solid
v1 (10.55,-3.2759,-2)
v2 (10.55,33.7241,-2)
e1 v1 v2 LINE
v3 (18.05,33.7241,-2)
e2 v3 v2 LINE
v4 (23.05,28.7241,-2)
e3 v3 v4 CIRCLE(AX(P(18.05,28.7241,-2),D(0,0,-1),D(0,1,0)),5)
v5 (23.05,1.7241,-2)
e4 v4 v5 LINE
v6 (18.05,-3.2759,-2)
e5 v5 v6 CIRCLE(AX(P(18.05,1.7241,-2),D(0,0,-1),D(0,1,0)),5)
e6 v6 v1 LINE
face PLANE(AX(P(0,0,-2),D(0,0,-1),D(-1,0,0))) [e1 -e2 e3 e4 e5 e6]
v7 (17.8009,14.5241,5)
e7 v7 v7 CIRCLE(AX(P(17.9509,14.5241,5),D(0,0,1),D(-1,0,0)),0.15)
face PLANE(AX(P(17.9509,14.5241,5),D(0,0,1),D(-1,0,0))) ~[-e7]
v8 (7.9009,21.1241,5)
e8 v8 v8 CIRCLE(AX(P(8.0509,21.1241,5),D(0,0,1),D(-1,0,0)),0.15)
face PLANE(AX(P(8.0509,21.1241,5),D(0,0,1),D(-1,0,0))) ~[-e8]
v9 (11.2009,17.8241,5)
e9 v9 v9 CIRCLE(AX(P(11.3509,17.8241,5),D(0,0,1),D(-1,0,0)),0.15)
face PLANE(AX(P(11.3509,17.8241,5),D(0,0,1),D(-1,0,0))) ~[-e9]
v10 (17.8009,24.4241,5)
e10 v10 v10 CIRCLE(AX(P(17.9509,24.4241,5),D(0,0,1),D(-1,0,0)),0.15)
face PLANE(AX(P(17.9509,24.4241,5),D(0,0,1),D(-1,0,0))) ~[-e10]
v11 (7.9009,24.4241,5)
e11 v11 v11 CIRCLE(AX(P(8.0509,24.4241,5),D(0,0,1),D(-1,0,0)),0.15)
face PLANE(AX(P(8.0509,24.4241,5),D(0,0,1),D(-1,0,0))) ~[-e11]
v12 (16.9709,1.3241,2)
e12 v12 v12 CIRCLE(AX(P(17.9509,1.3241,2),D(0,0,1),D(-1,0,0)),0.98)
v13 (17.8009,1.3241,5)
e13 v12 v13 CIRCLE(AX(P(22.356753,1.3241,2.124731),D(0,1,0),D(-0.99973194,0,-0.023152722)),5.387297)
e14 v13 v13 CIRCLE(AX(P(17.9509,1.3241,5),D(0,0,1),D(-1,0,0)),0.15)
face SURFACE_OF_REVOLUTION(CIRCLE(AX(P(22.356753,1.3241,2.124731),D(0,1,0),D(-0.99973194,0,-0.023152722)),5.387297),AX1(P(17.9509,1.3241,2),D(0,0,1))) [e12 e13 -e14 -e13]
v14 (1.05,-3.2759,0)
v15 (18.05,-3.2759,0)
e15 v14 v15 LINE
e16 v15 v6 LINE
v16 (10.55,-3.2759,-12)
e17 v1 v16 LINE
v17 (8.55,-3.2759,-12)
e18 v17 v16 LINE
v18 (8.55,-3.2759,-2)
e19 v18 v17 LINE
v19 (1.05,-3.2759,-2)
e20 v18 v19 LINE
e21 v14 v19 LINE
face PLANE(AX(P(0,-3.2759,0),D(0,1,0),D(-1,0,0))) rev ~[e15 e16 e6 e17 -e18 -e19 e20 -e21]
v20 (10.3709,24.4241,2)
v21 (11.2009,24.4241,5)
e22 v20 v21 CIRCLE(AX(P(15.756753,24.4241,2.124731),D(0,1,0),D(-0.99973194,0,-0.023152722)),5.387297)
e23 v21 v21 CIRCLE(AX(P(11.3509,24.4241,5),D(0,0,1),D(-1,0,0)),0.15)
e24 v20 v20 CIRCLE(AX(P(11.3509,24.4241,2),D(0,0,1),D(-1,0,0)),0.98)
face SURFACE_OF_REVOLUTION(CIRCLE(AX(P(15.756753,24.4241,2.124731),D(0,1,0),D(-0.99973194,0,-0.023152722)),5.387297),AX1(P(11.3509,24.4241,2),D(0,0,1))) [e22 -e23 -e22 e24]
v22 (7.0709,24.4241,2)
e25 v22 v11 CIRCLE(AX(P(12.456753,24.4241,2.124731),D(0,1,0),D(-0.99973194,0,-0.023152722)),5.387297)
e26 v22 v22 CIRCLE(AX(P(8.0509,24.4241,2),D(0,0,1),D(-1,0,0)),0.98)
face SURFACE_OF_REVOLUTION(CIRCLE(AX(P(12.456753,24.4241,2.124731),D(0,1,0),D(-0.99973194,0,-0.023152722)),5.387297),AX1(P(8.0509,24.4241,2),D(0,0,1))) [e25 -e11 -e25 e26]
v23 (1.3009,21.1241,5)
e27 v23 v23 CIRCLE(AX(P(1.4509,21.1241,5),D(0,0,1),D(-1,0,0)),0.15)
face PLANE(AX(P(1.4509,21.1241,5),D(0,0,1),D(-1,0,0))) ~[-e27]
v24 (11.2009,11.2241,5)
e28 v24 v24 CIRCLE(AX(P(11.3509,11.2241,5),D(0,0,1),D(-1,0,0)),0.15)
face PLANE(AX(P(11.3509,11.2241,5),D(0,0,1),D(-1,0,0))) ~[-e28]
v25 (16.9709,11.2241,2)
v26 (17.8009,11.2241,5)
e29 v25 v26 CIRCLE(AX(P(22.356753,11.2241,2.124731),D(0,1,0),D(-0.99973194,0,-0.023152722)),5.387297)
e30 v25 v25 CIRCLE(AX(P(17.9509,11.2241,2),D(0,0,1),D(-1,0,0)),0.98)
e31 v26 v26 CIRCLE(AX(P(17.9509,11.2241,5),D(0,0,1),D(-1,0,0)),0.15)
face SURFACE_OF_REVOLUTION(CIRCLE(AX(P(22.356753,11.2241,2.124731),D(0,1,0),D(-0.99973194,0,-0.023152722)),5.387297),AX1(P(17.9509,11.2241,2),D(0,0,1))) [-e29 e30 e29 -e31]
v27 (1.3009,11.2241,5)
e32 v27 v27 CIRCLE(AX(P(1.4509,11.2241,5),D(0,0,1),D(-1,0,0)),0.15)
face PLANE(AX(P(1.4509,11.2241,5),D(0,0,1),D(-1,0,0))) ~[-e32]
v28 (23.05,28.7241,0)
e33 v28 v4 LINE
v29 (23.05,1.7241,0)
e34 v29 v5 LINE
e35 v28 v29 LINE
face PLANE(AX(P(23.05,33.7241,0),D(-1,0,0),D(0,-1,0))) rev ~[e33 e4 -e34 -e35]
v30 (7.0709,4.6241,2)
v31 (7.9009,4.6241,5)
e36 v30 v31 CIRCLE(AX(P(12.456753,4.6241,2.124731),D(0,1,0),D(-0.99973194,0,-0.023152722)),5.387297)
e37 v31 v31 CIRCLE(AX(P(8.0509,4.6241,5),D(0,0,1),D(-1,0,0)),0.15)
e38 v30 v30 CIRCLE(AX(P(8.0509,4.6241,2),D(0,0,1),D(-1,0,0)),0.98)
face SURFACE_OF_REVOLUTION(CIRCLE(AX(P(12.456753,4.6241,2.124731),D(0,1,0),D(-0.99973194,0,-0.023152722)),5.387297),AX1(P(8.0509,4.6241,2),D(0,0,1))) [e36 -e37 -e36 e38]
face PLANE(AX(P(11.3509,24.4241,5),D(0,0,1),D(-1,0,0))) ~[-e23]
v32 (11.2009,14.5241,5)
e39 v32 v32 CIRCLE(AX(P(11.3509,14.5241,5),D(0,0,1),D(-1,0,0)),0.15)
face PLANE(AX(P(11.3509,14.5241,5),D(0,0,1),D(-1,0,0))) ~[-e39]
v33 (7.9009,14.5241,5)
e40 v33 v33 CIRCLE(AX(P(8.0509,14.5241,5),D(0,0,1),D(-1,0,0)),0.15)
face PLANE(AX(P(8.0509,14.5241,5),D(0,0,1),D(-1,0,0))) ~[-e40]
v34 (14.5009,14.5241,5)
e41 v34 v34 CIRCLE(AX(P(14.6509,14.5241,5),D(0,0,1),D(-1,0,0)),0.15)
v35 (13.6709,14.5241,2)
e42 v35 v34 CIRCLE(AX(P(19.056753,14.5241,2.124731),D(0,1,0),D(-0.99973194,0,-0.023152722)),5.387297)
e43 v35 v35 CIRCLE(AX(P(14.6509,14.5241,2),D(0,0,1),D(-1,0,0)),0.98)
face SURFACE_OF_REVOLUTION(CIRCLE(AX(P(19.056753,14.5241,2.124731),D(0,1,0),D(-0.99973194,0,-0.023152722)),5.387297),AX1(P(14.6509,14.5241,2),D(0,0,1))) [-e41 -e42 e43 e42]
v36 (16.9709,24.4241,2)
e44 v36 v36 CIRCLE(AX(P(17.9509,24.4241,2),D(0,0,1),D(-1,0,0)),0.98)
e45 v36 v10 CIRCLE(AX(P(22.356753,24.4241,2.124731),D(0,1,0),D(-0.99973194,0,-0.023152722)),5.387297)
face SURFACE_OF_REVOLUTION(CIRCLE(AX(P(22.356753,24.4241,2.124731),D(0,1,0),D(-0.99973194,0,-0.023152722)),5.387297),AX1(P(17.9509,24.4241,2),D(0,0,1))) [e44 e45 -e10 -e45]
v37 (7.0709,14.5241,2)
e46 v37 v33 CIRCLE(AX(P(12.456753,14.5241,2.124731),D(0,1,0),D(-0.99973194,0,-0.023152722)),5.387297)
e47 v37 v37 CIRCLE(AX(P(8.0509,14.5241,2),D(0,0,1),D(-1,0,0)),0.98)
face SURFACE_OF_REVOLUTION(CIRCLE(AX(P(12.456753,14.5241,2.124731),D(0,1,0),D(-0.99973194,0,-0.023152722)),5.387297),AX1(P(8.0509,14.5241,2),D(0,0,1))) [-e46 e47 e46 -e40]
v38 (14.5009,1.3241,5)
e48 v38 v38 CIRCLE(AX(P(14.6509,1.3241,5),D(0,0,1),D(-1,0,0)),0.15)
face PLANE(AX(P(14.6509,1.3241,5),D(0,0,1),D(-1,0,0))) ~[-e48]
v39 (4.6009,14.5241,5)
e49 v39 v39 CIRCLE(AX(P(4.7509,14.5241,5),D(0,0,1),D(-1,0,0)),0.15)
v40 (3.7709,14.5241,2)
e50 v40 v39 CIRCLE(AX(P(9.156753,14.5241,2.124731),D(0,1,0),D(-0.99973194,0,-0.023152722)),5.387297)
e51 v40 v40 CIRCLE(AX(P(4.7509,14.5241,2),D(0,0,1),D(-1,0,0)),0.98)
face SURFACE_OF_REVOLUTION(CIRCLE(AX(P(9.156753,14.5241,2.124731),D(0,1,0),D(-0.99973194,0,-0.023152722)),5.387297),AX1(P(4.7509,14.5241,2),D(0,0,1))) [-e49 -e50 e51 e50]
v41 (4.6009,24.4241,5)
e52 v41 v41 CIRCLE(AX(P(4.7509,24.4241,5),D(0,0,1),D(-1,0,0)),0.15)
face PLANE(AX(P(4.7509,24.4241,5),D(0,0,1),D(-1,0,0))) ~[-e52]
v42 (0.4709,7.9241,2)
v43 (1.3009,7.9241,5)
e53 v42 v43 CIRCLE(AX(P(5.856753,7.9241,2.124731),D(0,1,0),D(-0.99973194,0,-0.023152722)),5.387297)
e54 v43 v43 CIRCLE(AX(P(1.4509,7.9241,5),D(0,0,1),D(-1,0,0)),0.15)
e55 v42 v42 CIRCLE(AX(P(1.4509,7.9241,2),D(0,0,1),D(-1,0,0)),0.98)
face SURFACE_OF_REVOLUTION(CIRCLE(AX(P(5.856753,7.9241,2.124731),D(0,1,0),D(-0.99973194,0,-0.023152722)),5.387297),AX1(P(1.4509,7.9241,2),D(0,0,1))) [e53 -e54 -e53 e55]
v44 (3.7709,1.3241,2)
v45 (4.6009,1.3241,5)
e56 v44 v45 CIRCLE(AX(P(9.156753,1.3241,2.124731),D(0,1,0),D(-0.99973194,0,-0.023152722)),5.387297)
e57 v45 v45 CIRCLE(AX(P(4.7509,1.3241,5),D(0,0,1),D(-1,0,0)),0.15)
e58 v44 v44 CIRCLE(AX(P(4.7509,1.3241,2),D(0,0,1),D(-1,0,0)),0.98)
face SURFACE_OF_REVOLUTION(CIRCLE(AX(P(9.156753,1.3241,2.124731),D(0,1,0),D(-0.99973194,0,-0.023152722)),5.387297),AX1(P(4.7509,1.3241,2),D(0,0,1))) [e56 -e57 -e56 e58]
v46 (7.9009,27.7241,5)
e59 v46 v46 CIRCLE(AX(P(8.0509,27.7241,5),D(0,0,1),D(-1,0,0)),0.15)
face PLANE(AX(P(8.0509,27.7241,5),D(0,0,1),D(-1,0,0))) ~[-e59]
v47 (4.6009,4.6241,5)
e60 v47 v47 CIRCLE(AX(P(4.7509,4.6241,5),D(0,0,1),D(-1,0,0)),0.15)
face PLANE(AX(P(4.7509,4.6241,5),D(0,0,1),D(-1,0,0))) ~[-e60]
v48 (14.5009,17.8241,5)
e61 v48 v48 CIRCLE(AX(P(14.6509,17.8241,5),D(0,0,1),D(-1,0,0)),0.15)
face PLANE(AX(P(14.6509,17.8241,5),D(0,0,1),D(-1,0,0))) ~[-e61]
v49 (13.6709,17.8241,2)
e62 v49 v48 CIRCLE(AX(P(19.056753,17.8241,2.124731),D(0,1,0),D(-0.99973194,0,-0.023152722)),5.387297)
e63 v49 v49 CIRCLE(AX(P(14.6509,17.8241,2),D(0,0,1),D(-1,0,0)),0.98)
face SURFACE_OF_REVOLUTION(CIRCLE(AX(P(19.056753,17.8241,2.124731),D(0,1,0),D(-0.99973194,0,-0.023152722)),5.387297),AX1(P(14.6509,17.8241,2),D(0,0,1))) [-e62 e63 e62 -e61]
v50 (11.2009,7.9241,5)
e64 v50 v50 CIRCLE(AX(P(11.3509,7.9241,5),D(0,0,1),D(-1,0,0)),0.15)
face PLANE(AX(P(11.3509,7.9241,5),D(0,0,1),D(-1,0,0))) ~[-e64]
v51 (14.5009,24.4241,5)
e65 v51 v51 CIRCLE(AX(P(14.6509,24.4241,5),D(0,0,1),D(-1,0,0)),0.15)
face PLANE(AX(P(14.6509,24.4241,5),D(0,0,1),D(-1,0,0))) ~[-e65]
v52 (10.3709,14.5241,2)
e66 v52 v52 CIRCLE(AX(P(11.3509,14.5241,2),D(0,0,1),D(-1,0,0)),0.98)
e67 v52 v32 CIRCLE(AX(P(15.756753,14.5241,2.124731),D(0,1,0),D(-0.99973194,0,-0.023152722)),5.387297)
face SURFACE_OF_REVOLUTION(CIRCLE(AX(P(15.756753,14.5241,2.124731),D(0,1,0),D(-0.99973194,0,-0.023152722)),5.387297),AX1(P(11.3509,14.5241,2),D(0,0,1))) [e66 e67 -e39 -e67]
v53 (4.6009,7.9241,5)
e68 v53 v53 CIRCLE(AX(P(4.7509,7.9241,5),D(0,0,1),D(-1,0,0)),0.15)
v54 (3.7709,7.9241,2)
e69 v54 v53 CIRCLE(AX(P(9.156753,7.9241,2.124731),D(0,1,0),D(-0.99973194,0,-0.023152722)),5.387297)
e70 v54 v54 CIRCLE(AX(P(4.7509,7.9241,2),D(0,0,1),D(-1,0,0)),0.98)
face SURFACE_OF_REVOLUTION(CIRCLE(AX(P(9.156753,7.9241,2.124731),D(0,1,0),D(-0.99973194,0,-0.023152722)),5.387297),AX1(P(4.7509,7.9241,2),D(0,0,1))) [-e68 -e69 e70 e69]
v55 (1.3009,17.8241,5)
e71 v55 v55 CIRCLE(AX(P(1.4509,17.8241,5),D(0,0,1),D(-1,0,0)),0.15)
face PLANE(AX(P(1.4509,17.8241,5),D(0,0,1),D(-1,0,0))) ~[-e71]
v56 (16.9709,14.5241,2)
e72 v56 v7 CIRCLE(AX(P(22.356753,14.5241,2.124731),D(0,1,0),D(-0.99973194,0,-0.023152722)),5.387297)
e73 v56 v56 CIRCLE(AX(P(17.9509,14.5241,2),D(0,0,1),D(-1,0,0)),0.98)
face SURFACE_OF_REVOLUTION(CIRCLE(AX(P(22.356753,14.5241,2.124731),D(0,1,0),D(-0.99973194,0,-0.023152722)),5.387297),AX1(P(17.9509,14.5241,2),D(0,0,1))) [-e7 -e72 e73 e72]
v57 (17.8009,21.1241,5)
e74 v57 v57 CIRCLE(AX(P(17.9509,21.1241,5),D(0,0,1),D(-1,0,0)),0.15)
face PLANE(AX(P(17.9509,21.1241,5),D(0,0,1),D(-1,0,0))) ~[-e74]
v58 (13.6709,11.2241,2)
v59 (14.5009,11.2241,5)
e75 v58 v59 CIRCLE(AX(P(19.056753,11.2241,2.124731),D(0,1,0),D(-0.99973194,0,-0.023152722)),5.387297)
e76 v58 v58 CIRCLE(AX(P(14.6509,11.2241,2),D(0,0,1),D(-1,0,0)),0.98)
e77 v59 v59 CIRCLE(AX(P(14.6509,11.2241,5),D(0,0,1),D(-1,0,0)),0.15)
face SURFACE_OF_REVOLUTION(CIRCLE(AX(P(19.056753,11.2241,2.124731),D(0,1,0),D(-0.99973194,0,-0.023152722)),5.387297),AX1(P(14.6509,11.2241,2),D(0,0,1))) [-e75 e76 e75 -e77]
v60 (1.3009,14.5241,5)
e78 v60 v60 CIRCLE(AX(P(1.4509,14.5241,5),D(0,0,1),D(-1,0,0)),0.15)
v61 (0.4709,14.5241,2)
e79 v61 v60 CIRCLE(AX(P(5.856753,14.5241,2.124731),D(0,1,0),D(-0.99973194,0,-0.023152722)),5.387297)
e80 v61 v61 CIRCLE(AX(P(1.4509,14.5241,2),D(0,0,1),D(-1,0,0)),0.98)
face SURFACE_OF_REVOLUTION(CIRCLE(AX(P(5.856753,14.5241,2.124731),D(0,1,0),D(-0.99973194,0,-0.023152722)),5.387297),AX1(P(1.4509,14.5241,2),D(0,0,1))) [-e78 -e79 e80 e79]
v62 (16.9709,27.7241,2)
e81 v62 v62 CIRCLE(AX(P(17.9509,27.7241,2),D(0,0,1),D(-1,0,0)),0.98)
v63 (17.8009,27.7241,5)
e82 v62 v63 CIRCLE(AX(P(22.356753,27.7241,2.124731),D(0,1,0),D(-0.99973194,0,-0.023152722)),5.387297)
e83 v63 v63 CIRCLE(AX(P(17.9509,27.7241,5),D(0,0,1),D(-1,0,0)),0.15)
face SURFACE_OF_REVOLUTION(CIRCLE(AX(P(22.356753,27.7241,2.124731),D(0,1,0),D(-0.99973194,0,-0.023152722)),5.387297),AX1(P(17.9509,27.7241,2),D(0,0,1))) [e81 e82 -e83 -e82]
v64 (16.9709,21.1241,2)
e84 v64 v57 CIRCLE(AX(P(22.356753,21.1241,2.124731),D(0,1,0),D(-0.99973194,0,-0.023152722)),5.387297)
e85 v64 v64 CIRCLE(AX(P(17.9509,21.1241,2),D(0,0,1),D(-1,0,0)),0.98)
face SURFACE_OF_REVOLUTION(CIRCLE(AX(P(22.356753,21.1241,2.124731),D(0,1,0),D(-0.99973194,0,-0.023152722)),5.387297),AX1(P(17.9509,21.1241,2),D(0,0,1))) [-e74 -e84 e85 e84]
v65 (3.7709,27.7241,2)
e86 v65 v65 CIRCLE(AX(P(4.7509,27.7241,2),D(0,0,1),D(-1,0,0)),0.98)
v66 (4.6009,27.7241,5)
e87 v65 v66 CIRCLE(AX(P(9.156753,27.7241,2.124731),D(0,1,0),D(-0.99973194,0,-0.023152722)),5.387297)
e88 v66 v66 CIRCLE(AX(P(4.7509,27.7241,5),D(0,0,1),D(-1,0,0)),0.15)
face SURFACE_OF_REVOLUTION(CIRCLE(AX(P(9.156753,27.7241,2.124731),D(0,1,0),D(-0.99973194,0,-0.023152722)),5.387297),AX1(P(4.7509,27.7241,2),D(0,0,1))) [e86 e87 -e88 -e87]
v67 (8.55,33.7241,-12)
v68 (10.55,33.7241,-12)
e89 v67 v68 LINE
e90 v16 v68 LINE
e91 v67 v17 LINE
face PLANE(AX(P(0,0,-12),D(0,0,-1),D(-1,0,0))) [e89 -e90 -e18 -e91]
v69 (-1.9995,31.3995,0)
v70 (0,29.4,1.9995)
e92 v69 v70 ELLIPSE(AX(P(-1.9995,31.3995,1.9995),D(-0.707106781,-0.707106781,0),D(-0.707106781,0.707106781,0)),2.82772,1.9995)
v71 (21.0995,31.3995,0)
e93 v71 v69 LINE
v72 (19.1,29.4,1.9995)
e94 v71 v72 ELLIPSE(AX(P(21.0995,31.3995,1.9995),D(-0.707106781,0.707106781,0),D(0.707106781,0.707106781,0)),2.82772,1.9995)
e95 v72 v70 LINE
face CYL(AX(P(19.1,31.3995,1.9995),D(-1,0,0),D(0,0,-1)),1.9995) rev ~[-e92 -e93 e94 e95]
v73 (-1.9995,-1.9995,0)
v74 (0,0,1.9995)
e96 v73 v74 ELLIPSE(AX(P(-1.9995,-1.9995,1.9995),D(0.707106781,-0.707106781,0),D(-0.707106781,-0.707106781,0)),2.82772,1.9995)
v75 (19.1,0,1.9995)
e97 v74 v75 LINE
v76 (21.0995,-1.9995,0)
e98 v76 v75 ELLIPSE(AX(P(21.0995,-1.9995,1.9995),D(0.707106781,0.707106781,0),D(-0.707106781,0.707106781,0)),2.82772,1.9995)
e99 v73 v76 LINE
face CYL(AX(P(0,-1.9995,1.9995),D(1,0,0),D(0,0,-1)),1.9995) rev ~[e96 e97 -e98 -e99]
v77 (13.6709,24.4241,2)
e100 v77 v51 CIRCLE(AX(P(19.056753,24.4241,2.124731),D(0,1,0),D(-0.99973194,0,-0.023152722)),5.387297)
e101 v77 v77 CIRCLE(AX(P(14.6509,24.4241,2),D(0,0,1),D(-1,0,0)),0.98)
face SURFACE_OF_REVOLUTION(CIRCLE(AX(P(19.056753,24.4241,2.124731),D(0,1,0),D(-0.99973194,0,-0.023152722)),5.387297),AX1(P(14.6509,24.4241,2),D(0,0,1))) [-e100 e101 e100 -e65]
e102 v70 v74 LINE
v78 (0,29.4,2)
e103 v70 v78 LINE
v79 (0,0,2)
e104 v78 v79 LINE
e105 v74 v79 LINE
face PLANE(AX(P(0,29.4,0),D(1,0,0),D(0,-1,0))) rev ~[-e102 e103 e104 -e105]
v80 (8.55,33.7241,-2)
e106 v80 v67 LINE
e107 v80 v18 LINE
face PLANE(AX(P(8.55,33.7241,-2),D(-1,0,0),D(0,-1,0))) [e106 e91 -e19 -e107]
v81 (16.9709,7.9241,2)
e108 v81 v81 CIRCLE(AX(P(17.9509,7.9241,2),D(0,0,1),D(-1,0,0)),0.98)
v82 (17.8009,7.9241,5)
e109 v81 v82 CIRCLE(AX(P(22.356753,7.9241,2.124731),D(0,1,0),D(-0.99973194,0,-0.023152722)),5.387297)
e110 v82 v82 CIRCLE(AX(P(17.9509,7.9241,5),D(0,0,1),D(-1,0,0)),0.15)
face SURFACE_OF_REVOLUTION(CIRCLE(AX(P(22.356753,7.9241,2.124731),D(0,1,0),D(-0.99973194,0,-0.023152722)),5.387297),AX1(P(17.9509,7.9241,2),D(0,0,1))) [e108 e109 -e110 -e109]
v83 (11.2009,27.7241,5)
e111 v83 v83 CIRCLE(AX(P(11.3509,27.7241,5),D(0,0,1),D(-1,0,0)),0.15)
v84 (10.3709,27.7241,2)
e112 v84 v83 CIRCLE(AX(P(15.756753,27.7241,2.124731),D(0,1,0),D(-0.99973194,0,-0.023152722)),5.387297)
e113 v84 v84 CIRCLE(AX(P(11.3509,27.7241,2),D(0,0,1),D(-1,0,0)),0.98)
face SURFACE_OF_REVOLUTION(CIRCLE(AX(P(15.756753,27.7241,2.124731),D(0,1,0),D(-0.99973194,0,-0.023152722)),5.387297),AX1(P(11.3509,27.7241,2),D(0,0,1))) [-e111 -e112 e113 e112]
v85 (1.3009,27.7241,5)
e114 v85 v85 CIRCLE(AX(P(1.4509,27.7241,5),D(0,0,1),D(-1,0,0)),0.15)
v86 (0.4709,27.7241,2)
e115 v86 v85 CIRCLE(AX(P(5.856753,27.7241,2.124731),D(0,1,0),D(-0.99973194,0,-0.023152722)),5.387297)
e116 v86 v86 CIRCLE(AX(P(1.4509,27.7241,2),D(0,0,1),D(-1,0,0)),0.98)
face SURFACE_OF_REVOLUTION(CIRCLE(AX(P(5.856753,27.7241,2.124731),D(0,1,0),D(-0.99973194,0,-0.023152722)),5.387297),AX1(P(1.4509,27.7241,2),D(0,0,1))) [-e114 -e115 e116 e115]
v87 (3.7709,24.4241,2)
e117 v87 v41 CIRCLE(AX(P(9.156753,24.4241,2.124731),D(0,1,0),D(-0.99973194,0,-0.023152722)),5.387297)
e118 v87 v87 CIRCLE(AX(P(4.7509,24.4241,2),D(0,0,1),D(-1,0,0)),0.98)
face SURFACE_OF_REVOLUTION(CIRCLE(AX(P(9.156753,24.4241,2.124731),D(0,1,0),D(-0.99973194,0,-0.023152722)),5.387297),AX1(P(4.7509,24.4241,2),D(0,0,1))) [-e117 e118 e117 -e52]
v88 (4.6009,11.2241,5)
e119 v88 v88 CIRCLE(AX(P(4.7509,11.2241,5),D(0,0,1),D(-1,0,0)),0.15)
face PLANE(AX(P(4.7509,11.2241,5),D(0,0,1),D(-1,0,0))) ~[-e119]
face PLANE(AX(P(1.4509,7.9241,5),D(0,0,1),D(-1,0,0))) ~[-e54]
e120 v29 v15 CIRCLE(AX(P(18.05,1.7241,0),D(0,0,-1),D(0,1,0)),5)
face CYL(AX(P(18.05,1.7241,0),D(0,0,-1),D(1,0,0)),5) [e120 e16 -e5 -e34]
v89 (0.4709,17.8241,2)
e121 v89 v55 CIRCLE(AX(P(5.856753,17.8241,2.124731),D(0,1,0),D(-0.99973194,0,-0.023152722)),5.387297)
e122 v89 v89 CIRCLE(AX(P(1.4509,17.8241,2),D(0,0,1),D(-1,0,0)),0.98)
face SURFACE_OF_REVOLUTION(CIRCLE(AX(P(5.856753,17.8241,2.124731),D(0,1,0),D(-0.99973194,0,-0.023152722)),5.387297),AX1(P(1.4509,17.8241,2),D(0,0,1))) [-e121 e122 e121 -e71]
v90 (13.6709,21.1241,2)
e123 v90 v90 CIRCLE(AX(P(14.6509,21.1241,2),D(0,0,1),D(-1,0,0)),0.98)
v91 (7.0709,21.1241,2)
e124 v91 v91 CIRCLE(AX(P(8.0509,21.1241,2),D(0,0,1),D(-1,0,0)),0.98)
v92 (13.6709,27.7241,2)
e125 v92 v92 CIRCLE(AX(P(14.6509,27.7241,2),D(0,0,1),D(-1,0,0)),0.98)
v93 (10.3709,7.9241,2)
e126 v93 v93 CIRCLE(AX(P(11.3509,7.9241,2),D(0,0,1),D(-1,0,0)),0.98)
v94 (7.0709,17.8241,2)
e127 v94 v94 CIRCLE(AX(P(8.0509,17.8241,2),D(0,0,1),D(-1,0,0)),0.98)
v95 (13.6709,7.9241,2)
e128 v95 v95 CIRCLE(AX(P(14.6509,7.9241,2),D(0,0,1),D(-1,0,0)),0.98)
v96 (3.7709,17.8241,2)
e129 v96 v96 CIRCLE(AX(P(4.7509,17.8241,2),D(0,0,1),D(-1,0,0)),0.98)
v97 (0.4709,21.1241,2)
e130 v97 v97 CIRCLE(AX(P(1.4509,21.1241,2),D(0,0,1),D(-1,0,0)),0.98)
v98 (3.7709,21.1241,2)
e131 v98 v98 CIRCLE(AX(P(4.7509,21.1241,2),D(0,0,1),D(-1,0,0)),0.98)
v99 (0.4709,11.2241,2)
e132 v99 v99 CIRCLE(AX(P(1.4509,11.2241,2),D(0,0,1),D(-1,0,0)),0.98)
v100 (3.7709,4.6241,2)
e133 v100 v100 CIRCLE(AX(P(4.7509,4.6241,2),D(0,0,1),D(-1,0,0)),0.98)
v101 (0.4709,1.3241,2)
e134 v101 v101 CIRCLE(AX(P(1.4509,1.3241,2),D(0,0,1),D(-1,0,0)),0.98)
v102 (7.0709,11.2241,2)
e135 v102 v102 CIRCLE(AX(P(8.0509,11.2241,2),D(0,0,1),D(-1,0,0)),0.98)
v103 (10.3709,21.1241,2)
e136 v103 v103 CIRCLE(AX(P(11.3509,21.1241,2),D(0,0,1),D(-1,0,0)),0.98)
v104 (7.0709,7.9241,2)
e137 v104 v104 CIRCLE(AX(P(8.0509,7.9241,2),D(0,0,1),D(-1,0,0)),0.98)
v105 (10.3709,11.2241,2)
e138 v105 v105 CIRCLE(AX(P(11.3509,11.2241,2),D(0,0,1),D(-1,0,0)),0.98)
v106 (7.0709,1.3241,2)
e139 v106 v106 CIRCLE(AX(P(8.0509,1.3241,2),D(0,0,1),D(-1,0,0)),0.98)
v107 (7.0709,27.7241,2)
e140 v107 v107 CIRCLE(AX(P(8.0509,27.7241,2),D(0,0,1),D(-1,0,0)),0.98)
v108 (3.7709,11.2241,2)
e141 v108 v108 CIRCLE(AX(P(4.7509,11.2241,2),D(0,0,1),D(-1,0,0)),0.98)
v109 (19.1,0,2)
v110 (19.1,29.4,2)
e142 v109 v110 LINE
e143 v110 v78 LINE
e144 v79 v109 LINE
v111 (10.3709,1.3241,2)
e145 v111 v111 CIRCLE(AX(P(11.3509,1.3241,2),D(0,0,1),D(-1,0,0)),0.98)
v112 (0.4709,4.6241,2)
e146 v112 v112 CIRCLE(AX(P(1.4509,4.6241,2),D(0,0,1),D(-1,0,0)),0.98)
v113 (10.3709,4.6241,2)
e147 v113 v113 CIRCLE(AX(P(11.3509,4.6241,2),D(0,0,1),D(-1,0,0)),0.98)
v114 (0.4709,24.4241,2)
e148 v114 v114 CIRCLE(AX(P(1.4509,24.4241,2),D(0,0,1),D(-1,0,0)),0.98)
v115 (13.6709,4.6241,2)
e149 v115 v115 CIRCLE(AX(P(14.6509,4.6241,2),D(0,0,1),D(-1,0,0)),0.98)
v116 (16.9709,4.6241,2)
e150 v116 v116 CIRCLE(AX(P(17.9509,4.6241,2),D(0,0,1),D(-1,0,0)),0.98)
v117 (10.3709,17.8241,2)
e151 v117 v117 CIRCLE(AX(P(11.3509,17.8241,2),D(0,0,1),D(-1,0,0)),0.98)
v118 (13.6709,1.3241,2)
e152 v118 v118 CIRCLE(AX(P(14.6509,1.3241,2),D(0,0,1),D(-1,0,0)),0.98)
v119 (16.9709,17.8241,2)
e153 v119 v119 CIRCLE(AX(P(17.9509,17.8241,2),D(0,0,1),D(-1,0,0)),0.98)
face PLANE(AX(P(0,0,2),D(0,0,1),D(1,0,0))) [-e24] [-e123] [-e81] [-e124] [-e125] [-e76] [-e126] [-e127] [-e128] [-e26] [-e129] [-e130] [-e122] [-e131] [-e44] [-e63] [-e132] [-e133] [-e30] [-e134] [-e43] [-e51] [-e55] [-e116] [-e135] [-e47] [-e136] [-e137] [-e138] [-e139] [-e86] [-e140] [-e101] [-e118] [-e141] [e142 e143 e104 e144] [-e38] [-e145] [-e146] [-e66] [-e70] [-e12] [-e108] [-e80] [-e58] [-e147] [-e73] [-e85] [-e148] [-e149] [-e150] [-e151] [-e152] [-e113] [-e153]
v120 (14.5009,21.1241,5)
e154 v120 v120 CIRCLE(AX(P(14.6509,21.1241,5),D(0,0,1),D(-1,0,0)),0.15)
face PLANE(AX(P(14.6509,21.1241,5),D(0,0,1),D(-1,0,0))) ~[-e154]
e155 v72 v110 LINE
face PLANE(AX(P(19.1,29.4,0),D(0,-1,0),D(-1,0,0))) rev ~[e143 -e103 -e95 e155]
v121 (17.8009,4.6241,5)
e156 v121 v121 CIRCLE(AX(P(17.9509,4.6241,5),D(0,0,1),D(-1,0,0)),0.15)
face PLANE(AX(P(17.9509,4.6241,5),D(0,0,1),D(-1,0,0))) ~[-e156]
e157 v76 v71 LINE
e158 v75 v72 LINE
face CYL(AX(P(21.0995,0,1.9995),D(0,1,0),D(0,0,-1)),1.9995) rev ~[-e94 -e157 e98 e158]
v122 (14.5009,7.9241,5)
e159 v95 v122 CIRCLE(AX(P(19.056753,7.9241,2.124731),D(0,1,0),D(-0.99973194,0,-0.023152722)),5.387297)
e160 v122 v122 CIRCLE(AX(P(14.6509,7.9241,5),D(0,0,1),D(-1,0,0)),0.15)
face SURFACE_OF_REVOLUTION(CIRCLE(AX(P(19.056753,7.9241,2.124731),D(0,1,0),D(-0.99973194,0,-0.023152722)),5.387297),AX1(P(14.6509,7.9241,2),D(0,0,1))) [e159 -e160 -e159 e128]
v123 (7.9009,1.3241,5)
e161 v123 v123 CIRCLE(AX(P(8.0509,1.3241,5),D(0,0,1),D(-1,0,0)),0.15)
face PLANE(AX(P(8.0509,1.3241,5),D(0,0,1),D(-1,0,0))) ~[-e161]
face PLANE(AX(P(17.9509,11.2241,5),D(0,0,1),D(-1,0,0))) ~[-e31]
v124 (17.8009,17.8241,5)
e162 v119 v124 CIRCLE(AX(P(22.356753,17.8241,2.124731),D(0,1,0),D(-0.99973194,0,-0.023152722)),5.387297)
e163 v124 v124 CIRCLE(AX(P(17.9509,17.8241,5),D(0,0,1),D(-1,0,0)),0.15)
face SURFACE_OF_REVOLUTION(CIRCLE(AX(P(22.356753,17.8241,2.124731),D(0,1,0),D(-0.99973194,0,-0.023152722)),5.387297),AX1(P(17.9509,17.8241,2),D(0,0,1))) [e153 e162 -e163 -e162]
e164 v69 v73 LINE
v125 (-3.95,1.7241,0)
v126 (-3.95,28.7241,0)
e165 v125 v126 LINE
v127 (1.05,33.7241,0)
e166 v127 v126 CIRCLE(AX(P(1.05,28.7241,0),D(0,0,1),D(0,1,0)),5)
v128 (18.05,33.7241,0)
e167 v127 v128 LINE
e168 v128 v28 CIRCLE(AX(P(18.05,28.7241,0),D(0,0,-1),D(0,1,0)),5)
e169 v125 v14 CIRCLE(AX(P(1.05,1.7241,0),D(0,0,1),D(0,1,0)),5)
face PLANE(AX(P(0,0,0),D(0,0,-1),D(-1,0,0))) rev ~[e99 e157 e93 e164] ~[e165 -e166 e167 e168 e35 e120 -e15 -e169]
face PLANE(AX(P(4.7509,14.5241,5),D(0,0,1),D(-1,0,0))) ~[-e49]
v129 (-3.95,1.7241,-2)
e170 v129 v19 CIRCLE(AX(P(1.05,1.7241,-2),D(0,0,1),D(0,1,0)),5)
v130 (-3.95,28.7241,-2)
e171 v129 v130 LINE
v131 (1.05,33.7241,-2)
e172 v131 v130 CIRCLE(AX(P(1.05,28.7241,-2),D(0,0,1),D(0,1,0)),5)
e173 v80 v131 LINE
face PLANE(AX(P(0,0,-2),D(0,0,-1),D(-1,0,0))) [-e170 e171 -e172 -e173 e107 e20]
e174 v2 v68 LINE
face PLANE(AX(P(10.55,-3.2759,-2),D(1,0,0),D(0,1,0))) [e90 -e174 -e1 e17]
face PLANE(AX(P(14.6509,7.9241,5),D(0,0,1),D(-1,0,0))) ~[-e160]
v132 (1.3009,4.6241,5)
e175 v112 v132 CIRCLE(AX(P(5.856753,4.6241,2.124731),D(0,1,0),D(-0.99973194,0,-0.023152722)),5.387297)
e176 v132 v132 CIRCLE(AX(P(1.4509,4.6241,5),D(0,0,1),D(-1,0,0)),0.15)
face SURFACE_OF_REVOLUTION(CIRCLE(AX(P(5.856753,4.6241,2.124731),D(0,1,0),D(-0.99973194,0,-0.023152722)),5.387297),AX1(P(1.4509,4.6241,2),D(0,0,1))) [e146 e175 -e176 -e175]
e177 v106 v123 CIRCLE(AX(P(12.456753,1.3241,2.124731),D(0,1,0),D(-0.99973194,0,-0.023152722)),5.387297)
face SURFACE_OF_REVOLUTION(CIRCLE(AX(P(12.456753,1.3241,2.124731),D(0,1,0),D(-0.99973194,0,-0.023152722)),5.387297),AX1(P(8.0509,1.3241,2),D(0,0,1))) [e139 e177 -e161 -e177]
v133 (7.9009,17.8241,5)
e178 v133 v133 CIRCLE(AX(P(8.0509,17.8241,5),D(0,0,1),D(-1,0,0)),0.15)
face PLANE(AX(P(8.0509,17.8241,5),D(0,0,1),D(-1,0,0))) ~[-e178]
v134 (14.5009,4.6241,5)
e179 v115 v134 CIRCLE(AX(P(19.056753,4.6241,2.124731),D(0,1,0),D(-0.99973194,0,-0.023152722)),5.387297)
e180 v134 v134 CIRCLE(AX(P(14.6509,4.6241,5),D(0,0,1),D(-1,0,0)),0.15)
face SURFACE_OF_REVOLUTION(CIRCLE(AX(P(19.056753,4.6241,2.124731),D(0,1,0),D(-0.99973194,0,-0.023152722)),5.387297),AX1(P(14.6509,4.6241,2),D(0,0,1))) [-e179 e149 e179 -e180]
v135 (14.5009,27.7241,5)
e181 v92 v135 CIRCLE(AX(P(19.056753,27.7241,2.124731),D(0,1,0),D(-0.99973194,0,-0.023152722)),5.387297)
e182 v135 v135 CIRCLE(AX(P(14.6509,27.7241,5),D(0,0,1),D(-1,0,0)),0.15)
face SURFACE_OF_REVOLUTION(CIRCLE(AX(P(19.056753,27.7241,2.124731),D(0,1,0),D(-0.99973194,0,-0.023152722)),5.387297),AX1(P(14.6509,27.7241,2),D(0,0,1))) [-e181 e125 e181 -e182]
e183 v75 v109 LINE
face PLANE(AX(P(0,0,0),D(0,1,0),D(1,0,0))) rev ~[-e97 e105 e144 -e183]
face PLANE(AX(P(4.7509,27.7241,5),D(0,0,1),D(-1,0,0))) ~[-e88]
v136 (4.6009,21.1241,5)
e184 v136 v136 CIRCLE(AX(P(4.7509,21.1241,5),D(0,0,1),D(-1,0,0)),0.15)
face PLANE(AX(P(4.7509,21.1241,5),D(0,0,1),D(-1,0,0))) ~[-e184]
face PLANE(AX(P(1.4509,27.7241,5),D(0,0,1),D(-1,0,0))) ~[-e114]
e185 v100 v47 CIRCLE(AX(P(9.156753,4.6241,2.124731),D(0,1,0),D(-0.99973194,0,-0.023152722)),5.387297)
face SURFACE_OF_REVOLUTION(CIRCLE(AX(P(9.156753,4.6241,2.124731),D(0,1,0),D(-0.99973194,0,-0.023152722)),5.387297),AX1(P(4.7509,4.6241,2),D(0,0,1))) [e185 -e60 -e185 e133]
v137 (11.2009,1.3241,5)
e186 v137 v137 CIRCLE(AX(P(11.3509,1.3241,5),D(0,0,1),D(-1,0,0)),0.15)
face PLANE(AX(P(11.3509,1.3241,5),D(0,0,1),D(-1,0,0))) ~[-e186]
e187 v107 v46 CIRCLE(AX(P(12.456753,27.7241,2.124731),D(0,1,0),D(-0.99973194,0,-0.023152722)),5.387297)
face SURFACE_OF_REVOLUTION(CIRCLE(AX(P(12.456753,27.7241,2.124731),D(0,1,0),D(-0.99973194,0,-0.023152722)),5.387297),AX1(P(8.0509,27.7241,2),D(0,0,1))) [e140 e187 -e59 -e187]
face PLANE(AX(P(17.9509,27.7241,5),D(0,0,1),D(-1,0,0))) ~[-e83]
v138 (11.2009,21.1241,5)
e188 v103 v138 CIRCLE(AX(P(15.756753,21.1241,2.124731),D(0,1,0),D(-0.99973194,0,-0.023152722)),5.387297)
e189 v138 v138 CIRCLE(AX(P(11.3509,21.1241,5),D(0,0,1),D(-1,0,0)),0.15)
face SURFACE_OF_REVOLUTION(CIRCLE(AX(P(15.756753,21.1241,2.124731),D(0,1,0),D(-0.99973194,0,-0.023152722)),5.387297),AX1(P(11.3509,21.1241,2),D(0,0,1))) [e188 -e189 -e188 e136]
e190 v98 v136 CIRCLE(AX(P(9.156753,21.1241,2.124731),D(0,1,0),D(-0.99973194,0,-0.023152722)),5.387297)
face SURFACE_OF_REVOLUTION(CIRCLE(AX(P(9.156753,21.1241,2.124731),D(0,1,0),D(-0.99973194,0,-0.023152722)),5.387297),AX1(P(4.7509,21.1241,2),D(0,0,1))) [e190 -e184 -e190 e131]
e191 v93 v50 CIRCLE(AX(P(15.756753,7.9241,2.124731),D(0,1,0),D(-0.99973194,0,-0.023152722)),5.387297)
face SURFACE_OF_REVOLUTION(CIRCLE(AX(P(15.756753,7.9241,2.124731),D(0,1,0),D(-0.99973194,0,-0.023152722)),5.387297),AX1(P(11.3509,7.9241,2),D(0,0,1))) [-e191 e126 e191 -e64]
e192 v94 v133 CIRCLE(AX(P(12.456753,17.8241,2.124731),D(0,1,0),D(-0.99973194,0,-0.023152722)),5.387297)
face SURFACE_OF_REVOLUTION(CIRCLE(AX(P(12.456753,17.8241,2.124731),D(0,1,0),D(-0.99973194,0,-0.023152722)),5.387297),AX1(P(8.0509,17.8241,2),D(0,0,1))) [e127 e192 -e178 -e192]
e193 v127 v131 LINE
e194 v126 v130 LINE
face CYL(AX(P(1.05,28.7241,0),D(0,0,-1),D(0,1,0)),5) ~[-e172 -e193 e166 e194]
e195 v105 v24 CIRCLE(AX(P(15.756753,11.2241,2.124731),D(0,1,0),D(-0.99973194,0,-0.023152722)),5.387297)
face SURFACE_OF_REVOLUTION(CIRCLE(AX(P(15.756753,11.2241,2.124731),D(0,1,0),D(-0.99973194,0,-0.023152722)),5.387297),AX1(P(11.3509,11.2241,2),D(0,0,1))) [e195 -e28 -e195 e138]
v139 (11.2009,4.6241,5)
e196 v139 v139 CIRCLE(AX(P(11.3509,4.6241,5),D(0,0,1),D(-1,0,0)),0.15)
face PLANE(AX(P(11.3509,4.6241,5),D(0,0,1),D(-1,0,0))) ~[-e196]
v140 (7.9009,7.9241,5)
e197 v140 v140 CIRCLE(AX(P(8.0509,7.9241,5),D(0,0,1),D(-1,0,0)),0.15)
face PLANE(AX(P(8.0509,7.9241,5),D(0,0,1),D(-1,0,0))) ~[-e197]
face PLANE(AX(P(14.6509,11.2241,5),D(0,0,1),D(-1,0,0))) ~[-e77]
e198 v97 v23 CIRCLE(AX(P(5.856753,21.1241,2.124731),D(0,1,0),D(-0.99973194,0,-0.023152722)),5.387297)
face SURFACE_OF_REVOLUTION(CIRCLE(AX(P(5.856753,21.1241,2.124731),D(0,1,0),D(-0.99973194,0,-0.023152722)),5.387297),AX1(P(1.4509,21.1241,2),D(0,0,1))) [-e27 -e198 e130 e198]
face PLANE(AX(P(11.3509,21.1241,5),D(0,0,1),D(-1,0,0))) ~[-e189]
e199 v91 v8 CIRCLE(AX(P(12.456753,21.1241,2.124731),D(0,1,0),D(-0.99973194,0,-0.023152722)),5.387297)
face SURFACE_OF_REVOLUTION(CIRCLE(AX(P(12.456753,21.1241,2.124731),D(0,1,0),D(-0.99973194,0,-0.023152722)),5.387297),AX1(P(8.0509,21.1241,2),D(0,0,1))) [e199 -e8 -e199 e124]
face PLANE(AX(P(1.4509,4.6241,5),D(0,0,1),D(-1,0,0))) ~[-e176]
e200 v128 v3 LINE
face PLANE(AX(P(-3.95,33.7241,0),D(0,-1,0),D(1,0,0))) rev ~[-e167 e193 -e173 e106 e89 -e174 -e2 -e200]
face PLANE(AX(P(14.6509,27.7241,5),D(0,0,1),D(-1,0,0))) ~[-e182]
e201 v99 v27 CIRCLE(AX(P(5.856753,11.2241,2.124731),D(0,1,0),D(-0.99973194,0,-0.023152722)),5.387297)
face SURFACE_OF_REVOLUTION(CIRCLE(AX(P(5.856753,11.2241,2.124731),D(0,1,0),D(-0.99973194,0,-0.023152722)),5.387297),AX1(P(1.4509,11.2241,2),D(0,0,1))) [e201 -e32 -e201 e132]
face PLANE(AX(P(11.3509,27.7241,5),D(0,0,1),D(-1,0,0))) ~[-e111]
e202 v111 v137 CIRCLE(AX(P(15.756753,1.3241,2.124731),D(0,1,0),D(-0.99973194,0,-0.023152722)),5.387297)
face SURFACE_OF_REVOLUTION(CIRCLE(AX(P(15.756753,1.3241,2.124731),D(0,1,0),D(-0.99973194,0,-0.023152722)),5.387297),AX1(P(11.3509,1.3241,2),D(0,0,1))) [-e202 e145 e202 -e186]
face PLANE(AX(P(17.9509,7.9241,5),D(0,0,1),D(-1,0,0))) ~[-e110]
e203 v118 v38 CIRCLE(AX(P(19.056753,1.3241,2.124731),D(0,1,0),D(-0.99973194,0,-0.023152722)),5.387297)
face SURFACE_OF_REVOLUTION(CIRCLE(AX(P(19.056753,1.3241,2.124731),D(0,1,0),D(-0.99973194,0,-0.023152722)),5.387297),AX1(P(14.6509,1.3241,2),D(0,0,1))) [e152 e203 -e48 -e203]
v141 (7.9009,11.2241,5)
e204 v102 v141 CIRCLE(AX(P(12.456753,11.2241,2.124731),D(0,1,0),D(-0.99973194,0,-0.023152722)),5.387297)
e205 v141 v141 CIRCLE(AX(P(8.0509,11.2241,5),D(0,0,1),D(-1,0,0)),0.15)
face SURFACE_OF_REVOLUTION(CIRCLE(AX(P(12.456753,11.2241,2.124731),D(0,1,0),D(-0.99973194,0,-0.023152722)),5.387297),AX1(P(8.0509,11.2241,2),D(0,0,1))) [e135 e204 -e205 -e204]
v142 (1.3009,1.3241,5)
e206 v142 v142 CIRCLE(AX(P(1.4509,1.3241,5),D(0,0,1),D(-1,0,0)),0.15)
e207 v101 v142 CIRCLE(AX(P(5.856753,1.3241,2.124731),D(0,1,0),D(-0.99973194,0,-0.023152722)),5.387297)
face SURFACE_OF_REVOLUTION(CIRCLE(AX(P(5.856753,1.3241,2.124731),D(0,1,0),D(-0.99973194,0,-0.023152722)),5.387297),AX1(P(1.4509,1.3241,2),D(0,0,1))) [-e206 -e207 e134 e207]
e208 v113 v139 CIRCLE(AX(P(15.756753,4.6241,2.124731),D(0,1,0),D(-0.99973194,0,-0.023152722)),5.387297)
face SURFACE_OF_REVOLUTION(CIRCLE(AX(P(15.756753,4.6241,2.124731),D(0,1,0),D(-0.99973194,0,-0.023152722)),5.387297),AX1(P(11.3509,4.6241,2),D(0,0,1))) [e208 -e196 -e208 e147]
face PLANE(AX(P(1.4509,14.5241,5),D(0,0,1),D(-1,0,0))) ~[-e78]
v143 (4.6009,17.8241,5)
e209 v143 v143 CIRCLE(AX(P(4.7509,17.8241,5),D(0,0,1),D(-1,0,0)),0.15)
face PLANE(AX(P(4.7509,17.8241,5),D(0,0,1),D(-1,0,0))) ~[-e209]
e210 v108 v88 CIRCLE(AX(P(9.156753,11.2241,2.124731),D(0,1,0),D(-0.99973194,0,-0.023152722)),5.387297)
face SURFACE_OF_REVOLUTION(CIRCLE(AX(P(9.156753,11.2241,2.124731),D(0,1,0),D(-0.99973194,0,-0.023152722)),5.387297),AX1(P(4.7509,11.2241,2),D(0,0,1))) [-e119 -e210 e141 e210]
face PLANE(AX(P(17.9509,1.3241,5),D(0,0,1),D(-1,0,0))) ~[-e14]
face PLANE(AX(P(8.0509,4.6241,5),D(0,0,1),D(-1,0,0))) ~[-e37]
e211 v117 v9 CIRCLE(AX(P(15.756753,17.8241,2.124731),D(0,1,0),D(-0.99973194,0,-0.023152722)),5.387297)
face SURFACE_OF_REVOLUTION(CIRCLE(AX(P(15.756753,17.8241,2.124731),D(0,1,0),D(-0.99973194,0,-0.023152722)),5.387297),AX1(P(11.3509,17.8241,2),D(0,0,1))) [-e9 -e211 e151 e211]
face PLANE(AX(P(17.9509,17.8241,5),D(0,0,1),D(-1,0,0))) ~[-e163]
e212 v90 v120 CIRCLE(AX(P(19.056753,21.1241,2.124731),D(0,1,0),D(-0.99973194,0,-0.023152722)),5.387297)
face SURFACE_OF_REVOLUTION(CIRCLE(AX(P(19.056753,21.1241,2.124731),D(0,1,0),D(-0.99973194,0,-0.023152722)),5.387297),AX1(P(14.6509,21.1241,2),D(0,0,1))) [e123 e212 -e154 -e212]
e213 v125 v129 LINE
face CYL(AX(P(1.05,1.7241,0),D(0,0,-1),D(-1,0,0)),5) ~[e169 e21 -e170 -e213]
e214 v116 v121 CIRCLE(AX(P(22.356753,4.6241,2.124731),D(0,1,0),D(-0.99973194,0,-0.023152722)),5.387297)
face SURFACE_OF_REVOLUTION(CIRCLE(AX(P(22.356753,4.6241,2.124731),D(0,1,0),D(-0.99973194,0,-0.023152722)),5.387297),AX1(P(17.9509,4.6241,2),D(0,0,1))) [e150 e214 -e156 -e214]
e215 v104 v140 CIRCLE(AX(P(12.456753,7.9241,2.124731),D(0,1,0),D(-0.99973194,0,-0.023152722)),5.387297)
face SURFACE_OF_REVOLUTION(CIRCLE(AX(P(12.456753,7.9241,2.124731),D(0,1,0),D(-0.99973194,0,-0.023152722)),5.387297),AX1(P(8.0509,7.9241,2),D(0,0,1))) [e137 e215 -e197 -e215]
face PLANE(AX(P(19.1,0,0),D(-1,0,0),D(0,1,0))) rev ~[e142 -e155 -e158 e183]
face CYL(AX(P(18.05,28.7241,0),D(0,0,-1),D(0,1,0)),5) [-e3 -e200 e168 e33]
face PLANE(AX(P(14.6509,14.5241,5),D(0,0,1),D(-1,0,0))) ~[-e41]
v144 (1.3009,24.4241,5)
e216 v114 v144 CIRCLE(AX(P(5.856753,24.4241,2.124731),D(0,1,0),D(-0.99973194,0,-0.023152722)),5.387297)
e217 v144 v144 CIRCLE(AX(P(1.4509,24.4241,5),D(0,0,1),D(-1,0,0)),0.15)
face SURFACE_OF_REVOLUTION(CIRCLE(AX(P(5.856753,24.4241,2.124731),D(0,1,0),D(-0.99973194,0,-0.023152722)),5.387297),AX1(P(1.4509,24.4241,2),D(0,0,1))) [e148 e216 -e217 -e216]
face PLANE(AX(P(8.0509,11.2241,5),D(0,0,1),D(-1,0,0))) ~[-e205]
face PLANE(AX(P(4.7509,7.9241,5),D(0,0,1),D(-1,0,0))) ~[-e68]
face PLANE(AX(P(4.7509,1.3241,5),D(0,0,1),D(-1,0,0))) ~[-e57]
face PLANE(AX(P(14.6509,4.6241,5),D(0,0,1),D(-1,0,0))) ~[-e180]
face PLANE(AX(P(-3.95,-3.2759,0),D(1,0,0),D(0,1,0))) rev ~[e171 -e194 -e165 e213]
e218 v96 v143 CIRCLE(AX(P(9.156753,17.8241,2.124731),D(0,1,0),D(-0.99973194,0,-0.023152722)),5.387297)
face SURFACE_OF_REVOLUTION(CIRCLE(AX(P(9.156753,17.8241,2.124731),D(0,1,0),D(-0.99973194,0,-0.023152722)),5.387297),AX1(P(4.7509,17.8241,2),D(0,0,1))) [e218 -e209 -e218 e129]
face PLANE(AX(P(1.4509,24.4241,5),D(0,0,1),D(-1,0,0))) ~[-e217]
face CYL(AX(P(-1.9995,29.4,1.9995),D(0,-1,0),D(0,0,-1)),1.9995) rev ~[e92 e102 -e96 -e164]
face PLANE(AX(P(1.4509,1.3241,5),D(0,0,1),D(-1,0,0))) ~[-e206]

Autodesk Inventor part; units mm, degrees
ref_plane "YZ Plane" through (0, 0, 0) normal (1, 0, 0) x (0, 1, 0)
sketch "Sketch1" plane through (0, 0, 0) normal (0, 0, 1) x (1, 0, 0)
  line L0 (0, 0) -> (19.1, 0)
  line L1 (19.1, 0) -> (19.1, 29.4)
  line L2 (19.1, 29.4) -> (0, 29.4)
  line L3 (0, 29.4) -> (0, 0)
  dimension "d0" = 19.1
  dimension "d1" = 29.4
extrude "Extrusion1" add sketch "Sketch1" along normal blind 2
sketch "Sketch2" plane through (0, 0, 2) normal (0, 0, 1) x (1, 0, 0)
  line L0 (0, 29.4) -> (0, 0) projected
  line L1 (19.1, 29.4) -> (0, 29.4) projected
ref_plane "Work Plane1" through (0, 0, 5) normal (0, 0, 1) x (1, 0, 0)
ref_plane "Work Plane2" through (0, 0, 4.5) normal (0, 0, 1) x (1, 0, 0)
sketch "Sketch6" plane through (0, 0, 0) normal (0, 0, -1) x (-1, 0, 0)
  line L0 (0, 29.4) -> (0, 0) projected
  line L1 (0, 15.2241) -> (0, -3.2759)
  line L2 (0, -3.2759) -> (-19.1, -3.2759)
  line L3 (-19.1, 0) -> (-19.1, 29.4) projected
  line L4 (-19.1, -3.2759) -> (-19.1, 33.7241)
  line L5 (-19.1, 33.7241) -> (0, 33.7241)
  line L6 (0, 33.7241) -> (0, -3.2759)
  line L7 (-9.55, -3.2759) -> (3.95, -3.2759)
  line L8 (3.95, -3.2759) -> (3.95, 33.7241)
  line L9 (3.95, 33.7241) -> (-23.05, 33.7241)
  line L10 (-23.05, 33.7241) -> (-23.05, -3.2759)
  line L11 (-23.05, -3.2759) -> (-19.1, -3.2759)
  dimension "d41" = 13.5
  dimension "d42" = 27
extrude "Extrusion4" add sketch "Sketch6" along normal blind 2
fillet "Fillet3" radius 5 4 edges at (23.05, -3.2759, -1) (-3.95, -3.2759, -1) (23.05, 33.7241, -1) (-3.95, 33.7241, -1)
sketch "Sketch8" plane through (0, 0, -2) normal (0, 0, -1) x (-1, 0, 0)
  line L0 (3.95, 1.7241) -> (3.95, 28.7241)
  line L1 (-23.05, 28.7241) -> (-23.05, 1.7241) projected
  line L2 (-18.05, -3.2759) -> (-1.05, -3.2759) projected
  line L3 (3.95, 1.7241) -> (3.95, 28.7241) projected
  arc A0 (-18.05, 33.7241) -> (-23.05, 28.7241) centre (-18.05, 28.7241) ccw projected
  line L4 (-1.05, 33.7241) -> (-18.05, 33.7241) projected
  line L5 (-23.05, 28.7241) -> (-23.05, 1.7241) projected
  line L6 (3.95, 1.7241) -> (3.95, 28.7241) projected
  line L7 (3.95, 14) -> (3.95, 16)
  line L8 (-18.05, -3.2759) -> (-1.05, -3.2759) projected
  line L9 (-9.55, -3.2759) -> (-10.55, -3.2759)
  line L10 (-10.55, -3.2759) -> (-10.55, 33.7241)
  line L11 (-10.55, 33.7241) -> (-8.55, 33.7241)
  line L12 (-8.55, 33.7241) -> (-8.55, -3.2759)
  line L13 (-9.55, -3.2759) -> (-8.55, -3.2759)
  point P0 (0, 0)
  point P1 (-21.05, 1.7241)
  dimension "d57" = 1
  dimension "d58" = 2
extrude "Extrusion5" add sketch "Sketch8" along normal blind 10
fillet "Fillet4" radius 2 4 edges at (19.1, 14.7, 0) (9.55, 29.4, 0) (0, 14.7, 0) (9.55, 0, 0)
ref_plane "Work Plane3" through (1.05, 27.7241, 0) normal (0, 1, 0) x (1, 0, 0)
sketch "Sketch9" plane through (1.05, 27.7241, 0) normal (0, 1, 0) x (1, 0, 0)
  line L0 (-1.05, -2) -> (18.05, -2) projected
  line L1 (-0.5791, -2) -> (0.4009, -2)
  line L2 (-0.5791, -2) -> (0.4009, -2)
  line L3 (0.4009, -2) -> (0.4009, -5)
  line L4 (0.4009, -5) -> (0.2509, -5)
  arc A0 (-0.5791, -2) -> (0.2509, -5) centre (4.807, -2.1247) ccw
  point P0 (-1.05, 0)
  dimension "d60" = 0.98
  dimension "d62" = 3
  dimension "d63" = 0.15
revolve "Revolution1" add sketch "Sketch9" angle 360 about axis through (1.4509, 27.7241, 2) along (0, 0, 1)
pattern_linear "Rectangular Pattern2" count 6 spacing 3.3 along (1, 0, 0) count 9 spacing 3.3 along (0, -1, 0) of "Revolution1"
properties part number "Mold_NewPins_Handle2"
